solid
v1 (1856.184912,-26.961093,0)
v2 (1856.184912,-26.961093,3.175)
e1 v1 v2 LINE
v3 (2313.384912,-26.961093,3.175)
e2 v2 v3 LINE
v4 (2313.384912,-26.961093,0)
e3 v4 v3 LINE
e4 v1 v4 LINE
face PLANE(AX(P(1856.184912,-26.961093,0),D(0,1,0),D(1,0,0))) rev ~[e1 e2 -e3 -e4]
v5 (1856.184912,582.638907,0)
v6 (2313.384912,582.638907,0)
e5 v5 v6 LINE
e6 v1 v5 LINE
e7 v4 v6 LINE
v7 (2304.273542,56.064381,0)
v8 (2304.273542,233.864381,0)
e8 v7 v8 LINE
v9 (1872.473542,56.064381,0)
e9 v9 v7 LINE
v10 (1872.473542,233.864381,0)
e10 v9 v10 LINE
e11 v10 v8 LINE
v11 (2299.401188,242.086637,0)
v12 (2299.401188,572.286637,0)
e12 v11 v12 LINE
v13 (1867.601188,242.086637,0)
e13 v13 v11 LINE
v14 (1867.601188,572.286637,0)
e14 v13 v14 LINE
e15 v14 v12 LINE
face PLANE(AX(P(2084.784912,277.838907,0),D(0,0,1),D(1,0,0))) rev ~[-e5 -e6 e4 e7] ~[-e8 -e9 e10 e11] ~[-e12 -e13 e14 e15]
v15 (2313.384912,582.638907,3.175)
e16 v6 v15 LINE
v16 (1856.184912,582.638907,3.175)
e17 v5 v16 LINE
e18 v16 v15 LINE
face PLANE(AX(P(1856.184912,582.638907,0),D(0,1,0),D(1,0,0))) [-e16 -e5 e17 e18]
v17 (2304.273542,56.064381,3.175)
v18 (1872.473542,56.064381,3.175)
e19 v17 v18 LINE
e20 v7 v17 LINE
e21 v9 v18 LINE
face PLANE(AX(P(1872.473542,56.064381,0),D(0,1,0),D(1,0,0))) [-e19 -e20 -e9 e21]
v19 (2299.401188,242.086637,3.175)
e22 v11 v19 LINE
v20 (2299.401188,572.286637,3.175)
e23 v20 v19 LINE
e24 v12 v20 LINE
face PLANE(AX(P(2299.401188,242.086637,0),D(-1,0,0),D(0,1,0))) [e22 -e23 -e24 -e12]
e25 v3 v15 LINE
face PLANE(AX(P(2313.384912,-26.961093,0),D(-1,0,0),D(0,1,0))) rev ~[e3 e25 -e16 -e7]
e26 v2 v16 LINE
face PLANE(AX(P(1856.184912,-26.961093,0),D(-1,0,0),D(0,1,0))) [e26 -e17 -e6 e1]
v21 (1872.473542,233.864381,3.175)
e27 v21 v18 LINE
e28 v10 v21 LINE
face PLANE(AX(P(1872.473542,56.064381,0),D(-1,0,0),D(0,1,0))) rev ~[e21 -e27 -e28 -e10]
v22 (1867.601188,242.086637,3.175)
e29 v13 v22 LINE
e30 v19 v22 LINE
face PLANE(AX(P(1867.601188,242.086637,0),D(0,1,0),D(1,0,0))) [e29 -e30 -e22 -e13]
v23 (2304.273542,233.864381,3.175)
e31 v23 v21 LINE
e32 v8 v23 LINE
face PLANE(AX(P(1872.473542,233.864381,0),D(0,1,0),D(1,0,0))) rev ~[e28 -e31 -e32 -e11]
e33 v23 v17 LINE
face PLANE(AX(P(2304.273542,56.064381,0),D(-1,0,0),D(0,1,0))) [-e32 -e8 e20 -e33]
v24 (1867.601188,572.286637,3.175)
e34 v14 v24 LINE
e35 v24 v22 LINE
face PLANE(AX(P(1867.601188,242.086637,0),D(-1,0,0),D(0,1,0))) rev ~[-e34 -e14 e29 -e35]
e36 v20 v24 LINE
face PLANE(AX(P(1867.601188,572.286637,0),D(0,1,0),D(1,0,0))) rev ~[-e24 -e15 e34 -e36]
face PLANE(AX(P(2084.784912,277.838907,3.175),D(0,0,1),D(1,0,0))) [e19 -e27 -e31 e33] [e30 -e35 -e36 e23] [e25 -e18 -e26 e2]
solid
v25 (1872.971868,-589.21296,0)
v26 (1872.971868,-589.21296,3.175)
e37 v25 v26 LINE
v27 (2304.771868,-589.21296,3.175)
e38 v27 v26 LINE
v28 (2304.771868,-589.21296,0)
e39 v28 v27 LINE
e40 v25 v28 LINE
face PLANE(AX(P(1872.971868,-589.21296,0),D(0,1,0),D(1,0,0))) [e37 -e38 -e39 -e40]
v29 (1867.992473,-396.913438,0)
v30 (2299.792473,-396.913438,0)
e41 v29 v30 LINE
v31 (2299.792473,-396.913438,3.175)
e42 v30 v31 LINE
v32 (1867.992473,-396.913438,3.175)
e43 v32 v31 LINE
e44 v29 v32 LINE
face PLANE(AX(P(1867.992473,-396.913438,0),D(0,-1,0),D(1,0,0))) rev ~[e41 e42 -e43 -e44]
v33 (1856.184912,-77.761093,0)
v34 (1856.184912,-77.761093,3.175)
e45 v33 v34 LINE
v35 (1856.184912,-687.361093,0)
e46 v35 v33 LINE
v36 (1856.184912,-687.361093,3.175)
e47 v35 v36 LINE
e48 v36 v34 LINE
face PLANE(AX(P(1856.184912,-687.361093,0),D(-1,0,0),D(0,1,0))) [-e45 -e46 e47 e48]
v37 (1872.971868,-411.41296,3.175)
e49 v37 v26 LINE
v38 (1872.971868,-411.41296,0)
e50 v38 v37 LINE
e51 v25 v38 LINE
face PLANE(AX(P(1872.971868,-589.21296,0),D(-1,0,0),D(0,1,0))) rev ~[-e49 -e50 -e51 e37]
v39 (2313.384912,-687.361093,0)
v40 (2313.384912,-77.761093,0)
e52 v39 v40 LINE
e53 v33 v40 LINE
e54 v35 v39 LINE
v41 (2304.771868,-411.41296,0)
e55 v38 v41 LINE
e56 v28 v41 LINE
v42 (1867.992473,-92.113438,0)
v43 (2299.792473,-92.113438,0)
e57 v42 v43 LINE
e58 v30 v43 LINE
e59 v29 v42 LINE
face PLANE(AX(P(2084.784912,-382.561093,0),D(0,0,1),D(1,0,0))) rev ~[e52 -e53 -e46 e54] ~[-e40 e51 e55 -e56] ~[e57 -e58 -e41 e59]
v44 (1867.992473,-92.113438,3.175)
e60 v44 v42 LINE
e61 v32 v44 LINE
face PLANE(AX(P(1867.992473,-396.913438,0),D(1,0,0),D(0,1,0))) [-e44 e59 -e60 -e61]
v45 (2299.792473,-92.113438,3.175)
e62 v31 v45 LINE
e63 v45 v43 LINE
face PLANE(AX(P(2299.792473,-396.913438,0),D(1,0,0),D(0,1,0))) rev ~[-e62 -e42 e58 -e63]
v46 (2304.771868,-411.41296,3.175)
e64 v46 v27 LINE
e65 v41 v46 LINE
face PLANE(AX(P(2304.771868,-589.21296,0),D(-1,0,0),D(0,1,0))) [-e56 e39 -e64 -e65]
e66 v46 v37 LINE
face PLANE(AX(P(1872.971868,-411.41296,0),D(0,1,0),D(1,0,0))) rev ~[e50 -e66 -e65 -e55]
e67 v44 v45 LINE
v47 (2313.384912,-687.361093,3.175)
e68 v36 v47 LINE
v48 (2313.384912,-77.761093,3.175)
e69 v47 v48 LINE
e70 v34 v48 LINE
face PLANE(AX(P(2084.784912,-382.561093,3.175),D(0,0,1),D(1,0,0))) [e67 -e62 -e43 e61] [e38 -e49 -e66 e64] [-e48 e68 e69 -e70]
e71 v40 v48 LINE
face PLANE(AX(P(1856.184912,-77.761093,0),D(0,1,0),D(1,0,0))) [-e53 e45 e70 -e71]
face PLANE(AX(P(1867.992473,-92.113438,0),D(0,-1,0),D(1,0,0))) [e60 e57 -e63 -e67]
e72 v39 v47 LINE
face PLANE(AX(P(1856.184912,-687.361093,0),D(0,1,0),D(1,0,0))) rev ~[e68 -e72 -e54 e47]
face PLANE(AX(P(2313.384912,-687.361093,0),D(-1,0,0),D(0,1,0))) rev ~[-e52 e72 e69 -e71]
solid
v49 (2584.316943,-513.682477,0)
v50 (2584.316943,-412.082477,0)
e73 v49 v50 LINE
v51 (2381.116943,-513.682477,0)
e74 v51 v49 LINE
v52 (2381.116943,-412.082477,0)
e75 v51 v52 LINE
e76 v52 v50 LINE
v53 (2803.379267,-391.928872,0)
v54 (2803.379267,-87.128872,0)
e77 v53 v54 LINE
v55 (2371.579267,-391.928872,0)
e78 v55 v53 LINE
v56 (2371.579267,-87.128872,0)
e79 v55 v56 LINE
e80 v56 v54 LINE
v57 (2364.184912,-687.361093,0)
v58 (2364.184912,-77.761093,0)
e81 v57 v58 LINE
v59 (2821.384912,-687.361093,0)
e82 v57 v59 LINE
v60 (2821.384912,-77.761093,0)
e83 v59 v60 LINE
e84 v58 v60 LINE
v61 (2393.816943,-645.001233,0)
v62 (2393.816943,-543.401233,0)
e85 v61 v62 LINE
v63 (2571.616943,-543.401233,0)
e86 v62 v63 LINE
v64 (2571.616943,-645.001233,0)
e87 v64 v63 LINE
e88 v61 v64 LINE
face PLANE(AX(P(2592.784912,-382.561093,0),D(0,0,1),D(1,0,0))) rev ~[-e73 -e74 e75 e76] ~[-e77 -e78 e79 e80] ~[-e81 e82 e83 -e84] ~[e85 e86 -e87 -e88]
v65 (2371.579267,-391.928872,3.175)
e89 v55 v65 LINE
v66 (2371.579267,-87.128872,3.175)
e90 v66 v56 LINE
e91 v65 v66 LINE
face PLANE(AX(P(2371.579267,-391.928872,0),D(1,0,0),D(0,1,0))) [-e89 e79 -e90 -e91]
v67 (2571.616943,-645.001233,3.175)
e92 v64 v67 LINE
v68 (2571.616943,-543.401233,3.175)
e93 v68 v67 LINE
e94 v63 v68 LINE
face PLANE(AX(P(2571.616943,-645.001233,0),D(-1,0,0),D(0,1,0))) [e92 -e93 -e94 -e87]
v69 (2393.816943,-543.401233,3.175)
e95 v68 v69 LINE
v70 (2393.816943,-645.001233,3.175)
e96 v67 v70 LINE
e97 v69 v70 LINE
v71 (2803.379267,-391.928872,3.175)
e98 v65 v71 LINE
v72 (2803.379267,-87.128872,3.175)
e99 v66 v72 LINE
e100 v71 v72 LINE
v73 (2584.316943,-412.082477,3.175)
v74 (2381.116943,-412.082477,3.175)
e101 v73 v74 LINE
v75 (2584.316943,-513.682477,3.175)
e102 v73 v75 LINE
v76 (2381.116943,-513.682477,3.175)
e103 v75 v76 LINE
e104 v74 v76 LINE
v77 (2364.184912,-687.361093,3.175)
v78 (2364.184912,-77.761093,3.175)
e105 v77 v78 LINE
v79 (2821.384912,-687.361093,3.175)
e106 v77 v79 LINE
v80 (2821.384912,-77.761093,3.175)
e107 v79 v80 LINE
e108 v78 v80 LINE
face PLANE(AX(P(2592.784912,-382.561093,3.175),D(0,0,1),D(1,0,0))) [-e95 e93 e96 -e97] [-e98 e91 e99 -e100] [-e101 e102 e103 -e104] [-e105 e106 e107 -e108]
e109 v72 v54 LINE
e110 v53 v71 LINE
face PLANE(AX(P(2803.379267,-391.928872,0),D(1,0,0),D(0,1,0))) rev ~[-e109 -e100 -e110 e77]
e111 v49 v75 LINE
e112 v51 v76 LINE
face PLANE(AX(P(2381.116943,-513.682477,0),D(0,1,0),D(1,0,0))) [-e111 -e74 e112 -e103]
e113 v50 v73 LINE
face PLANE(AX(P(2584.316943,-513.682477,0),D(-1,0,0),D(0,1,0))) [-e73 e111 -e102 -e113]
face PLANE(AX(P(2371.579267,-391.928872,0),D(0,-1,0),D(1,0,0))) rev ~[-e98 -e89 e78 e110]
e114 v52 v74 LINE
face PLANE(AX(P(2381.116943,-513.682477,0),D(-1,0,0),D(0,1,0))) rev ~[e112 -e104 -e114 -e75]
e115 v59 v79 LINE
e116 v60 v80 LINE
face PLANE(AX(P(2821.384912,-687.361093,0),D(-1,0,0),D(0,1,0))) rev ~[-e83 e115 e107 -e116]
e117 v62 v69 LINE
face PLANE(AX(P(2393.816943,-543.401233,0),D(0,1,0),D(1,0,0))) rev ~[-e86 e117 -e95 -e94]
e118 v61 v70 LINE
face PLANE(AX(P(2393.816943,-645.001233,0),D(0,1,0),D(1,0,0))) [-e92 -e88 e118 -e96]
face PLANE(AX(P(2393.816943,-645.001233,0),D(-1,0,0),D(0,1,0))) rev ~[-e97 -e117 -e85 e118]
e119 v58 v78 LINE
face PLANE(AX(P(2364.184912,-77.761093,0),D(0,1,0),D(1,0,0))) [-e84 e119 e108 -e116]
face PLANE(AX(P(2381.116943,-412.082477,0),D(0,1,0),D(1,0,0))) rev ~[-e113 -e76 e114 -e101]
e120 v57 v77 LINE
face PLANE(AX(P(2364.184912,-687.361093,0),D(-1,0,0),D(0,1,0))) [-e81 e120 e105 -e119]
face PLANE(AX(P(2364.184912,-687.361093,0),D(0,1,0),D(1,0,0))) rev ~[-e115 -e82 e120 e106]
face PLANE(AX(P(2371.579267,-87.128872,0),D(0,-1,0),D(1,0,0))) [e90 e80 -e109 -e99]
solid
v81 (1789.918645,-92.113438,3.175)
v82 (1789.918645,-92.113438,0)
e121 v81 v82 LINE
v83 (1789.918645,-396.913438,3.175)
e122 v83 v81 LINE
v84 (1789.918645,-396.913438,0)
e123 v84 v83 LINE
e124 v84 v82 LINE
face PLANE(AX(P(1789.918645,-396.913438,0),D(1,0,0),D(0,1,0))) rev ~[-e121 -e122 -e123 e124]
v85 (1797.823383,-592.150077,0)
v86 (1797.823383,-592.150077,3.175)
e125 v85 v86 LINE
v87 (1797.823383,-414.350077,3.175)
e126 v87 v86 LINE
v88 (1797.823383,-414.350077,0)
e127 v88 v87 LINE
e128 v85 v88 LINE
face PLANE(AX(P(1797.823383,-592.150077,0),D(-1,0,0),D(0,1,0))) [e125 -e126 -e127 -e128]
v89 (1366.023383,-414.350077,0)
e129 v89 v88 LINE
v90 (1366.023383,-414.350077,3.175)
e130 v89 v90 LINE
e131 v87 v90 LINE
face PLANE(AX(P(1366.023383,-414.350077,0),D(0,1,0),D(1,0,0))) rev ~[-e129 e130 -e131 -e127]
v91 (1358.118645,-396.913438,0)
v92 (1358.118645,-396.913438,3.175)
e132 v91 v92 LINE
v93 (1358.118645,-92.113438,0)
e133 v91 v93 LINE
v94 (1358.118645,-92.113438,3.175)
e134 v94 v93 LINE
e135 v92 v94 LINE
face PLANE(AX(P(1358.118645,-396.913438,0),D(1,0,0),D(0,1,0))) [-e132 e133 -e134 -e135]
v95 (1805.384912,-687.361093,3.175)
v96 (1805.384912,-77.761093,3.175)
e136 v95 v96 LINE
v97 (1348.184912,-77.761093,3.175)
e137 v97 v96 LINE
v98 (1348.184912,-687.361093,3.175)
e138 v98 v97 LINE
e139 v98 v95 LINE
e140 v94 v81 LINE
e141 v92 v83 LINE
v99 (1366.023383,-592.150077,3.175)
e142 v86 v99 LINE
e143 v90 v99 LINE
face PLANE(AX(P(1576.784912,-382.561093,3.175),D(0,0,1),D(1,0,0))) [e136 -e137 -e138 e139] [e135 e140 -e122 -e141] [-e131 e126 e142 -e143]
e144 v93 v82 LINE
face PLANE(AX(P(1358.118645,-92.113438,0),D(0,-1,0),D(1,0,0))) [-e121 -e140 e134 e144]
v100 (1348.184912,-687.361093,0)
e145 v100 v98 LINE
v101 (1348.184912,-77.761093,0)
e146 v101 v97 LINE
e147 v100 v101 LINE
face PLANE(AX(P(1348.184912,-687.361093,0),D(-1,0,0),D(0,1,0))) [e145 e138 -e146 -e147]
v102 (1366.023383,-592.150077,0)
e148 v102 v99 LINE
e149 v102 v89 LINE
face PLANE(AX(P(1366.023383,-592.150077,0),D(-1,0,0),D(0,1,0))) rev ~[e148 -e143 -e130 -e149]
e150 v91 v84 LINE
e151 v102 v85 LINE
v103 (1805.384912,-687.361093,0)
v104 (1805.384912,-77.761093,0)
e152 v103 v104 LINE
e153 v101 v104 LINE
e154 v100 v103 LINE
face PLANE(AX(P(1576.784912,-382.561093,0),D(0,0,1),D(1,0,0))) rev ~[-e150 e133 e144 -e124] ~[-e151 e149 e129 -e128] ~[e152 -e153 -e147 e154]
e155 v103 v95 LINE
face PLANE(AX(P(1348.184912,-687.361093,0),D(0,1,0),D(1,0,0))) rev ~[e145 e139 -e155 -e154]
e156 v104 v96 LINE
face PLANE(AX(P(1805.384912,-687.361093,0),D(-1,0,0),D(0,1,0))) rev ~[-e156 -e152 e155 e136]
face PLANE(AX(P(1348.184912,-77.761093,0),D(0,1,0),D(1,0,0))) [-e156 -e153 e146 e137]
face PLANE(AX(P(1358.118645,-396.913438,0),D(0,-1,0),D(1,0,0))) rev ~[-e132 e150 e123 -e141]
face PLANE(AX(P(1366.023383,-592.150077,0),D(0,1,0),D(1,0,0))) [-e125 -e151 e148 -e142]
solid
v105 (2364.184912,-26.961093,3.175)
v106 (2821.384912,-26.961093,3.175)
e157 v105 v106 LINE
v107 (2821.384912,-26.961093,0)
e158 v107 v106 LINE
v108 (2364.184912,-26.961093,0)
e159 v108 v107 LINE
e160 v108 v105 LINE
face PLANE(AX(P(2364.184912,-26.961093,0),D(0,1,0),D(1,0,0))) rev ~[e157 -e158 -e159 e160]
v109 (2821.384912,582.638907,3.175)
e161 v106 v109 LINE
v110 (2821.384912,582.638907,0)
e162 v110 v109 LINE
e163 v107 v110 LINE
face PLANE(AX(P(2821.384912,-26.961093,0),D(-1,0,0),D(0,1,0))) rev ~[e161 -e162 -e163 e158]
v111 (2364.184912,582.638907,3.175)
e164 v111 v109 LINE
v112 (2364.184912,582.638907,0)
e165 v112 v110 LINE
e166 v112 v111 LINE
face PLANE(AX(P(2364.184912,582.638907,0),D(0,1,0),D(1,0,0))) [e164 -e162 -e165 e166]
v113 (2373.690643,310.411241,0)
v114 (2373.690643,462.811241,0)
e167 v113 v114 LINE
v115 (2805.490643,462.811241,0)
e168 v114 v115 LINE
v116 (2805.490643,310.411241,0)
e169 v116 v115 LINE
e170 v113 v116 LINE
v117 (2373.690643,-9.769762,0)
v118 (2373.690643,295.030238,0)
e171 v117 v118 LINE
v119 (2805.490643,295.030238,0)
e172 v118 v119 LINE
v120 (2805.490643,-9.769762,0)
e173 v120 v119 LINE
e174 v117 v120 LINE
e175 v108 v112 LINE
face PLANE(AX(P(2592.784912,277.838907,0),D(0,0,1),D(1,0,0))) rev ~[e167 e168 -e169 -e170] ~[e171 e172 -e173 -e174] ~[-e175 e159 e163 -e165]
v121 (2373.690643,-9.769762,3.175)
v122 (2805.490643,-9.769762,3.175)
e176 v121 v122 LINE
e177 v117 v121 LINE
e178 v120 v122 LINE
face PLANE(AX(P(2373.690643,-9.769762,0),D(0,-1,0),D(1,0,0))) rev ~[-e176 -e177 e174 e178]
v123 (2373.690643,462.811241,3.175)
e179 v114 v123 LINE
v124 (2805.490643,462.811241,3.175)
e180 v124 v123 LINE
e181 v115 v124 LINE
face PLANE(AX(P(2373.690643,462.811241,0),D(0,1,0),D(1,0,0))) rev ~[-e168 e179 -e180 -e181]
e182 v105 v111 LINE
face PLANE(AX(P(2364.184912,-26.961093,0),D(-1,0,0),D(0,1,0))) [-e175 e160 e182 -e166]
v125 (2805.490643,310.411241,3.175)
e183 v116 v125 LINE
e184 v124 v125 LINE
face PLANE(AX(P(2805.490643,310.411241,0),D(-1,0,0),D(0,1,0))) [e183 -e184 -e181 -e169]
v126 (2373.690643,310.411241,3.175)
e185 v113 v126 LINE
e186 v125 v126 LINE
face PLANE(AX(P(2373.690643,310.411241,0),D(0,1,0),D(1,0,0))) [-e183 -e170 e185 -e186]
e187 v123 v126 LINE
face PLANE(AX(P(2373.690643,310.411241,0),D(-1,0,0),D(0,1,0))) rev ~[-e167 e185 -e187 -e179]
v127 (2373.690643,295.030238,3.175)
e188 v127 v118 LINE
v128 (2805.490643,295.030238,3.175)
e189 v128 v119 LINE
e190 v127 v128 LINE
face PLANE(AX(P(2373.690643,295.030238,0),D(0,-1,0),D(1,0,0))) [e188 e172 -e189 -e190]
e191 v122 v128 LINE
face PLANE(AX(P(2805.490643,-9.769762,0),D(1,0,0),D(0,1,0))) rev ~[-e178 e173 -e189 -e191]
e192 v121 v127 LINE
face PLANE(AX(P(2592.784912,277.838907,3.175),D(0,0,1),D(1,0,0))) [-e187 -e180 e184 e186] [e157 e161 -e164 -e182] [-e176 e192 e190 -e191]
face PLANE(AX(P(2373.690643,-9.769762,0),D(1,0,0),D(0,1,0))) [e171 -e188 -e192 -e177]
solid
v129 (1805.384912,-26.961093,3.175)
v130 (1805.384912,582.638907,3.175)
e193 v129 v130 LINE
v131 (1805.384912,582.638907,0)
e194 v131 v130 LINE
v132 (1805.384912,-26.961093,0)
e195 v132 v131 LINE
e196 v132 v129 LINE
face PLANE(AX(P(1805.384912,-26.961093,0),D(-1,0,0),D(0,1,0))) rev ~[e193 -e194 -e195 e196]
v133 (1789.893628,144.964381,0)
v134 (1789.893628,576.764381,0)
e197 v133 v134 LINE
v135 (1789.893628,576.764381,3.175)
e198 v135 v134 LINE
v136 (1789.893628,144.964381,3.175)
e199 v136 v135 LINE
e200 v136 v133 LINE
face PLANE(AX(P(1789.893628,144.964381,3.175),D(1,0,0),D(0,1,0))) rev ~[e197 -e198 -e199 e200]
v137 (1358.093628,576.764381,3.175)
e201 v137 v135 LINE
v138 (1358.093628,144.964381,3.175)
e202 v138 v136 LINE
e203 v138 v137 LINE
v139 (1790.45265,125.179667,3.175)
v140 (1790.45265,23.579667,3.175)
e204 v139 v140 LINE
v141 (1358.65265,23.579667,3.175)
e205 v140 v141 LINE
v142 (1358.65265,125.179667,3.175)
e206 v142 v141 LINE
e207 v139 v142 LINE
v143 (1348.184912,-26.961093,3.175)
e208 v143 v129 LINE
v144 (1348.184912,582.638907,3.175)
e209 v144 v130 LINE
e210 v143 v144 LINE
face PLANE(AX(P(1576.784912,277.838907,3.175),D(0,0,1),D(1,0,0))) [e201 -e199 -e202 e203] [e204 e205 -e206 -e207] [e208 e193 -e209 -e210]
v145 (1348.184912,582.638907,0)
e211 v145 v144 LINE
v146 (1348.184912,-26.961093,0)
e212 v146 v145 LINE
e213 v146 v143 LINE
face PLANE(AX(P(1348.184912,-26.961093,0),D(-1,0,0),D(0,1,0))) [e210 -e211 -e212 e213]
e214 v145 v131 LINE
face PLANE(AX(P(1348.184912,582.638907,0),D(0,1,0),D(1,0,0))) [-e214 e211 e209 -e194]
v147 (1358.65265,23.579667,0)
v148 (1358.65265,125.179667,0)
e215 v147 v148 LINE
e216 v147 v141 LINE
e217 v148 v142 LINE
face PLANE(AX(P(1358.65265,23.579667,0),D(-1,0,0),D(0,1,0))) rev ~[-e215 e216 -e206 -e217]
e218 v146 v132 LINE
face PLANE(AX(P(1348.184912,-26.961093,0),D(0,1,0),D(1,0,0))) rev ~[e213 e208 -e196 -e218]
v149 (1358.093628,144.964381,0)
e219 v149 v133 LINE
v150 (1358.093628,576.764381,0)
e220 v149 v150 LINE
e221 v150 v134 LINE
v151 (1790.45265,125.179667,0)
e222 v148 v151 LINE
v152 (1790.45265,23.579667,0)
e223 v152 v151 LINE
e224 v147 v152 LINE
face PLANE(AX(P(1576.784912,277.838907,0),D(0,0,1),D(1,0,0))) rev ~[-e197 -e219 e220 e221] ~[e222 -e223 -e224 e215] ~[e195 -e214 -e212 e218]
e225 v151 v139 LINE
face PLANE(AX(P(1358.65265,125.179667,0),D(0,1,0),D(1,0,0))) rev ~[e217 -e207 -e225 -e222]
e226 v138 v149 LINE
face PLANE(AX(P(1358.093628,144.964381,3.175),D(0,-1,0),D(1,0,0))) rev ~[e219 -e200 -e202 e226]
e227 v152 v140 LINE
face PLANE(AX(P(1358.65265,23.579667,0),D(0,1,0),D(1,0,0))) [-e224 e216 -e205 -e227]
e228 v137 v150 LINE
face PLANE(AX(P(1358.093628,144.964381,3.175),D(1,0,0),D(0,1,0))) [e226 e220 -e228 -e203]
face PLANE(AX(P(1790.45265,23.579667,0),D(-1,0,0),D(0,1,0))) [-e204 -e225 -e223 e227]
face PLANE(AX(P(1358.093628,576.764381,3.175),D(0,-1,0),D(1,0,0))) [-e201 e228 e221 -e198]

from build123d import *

# Parameters (mm, degrees)
SKETCH11_W                  = 457.2
SKETCH11_H                  = 609.6
BOSS_EXTRUDE1_DEPTH         = 3.175
BOSS_EXTRUDE1_2_DEPTH       = 3.175
BOSS_EXTRUDE1_3_DEPTH       = 3.175
BOSS_EXTRUDE1_4_DEPTH       = 3.175
BOSS_EXTRUDE1_5_DEPTH       = 3.175
BOSS_EXTRUDE1_6_DEPTH       = 3.175
FOLDER_INTER_WALLS_17X12_W  = 431.8
FOLDER_INTER_WALLS_17X12_H  = 304.8
CUT_EXTRUDE2_DEPTH          = 4.175
CUT_EXTRUDE2_DEPTH_BACK     = 1
BASE_PLATE_17X17_W          = 431.8
BASE_PLATE_17X17_H          = 431.8
CUT_EXTRUDE3_DEPTH          = 1
CUT_EXTRUDE3_DEPTH_BACK     = 4.175
TOP_BASE_LAYER_17X13_W      = 431.8
TOP_BASE_LAYER_17X13_H      = 330.2
CUT_EXTRUDE4_DEPTH          = 4.175
CUT_EXTRUDE4_DEPTH_BACK     = 1
BACK_WALL_17X4_W            = 431.8
BACK_WALL_17X4_H            = 101.6
CUT_EXTRUDE5_DEPTH          = 4.175
CUT_EXTRUDE5_DEPTH_BACK     = 1
ANGLED_FOLDER_WALL_2_17X7_W = 431.8
ANGLED_FOLDER_WALL_2_17X7_H = 177.8
CUT_EXTRUDE6_DEPTH          = 4.175
CUT_EXTRUDE6_DEPTH_BACK     = 1
FRONT_WALL_17X6_W           = 431.8
FRONT_WALL_17X6_H           = 152.4
CUT_EXTRUDE7_DEPTH          = 4.175
CUT_EXTRUDE7_DEPTH_BACK     = 1
LEFT_WALL_16X8_W            = 431.8
LEFT_WALL_16X8_H            = 177.8
CUT_EXTRUDE8_DEPTH          = 4.175
CUT_EXTRUDE8_DEPTH_BACK     = 1
RIGHT_WALL_12X8_W           = 431.8
RIGHT_WALL_12X8_H           = 177.8
CUT_EXTRUDE9_DEPTH          = 4.175
CUT_EXTRUDE9_DEPTH_BACK     = 1
ANGLED_FOLDER_WALL_3_8X4_W  = 203.2
ANGLED_FOLDER_WALL_3_8X4_H  = 101.6
CUT_EXTRUDE10_DEPTH         = 4.175
CUT_EXTRUDE10_DEPTH_BACK    = 1
ANGLED_FOLDER_WALL_1_7X4_W  = 177.8
ANGLED_FOLDER_WALL_1_7X4_H  = 101.6
CUT_EXTRUDE11_DEPTH         = 4.175
CUT_EXTRUDE11_DEPTH_BACK    = 1


with BuildPart() as part:
    # Sketch11 → Boss-Extrude1 (new body)
    with BuildSketch(Plane.XY):
        with Locations((2084.784911615, 277.838906703)):
            Rectangle(SKETCH11_W, SKETCH11_H)
    extrude(amount=BOSS_EXTRUDE1_DEPTH)

    # Top Base Layer, 17x13 → Cut-Extrude4 (cut, two sides)
    with BuildSketch(Plane.XY) as cut_extrude4_sk:
        with Locations((2083.501187973, 407.186637429)):
            Rectangle(TOP_BASE_LAYER_17X13_W, TOP_BASE_LAYER_17X13_H)
    extrude(amount=CUT_EXTRUDE4_DEPTH, mode=Mode.SUBTRACT)
    extrude(cut_extrude4_sk.sketch, amount=-CUT_EXTRUDE4_DEPTH_BACK, mode=Mode.SUBTRACT)

    # Angled Folder Wall 2, 17x7 → Cut-Extrude6 (cut, two sides)
    with BuildSketch(Plane.XY) as cut_extrude6_sk:
        with Locations((2088.373542002, 144.96438064)):
            Rectangle(ANGLED_FOLDER_WALL_2_17X7_W, ANGLED_FOLDER_WALL_2_17X7_H)
    extrude(amount=CUT_EXTRUDE6_DEPTH, mode=Mode.SUBTRACT)
    extrude(cut_extrude6_sk.sketch, amount=-CUT_EXTRUDE6_DEPTH_BACK, mode=Mode.SUBTRACT)


with BuildPart() as body_2:
    # Sketch11 → Boss-Extrude1 2 (new body)
    with BuildSketch(Plane.XY):
        with Locations((1576.784911615, 277.838906703)):
            Rectangle(SKETCH11_W, SKETCH11_H)
    extrude(amount=BOSS_EXTRUDE1_2_DEPTH)

    # Base Plate, 17x17 → Cut-Extrude3 (cut, two sides)
    with BuildSketch(Plane.XY.offset(3.175)) as cut_extrude3_sk:
        with Locations((1573.993628053, 360.86438064)):
            Rectangle(BASE_PLATE_17X17_W, BASE_PLATE_17X17_H)
    extrude(amount=CUT_EXTRUDE3_DEPTH, mode=Mode.SUBTRACT)
    extrude(cut_extrude3_sk.sketch, amount=-CUT_EXTRUDE3_DEPTH_BACK, mode=Mode.SUBTRACT)

    # Back Wall, 17x4 → Cut-Extrude5 (cut, two sides)
    with BuildSketch(Plane.XY) as cut_extrude5_sk:
        with Locations((1574.552650393, 74.379666893)):
            Rectangle(BACK_WALL_17X4_W, BACK_WALL_17X4_H)
    extrude(amount=CUT_EXTRUDE5_DEPTH, mode=Mode.SUBTRACT)
    extrude(cut_extrude5_sk.sketch, amount=-CUT_EXTRUDE5_DEPTH_BACK, mode=Mode.SUBTRACT)


with BuildPart() as body_3:
    # Sketch11 → Boss-Extrude1 3 (new body)
    with BuildSketch(Plane.XY):
        with Locations((2592.784911615, 277.838906703)):
            Rectangle(SKETCH11_W, SKETCH11_H)
    extrude(amount=BOSS_EXTRUDE1_3_DEPTH)


with BuildPart() as body_4:
    # Sketch11 → Boss-Extrude1 4 (new body)
    with BuildSketch(Plane.XY):
        with Locations((2084.784911615, -382.561093297)):
            Rectangle(SKETCH11_W, SKETCH11_H)
    extrude(amount=BOSS_EXTRUDE1_4_DEPTH)


with BuildPart() as body_5:
    # Sketch11 → Boss-Extrude1 5 (new body)
    with BuildSketch(Plane.XY):
        with Locations((2592.784911615, -382.561093297)):
            Rectangle(SKETCH11_W, SKETCH11_H)
    extrude(amount=BOSS_EXTRUDE1_5_DEPTH)


with BuildPart() as body_6:
    # Sketch11 → Boss-Extrude1 6 (new body)
    with BuildSketch(Plane.XY):
        with Locations((1576.784911615, -382.561093297)):
            Rectangle(SKETCH11_W, SKETCH11_H)
    extrude(amount=BOSS_EXTRUDE1_6_DEPTH)


with BuildPart() as cut_extrude2_tool:
    # Folder Inter Walls, 17x12 → Cut-Extrude2 (new body, two sides)
    with BuildSketch(Plane.XY) as cut_extrude2_sk:
        with Locations((2587.479266915, -239.528871664)):
            Rectangle(FOLDER_INTER_WALLS_17X12_W, FOLDER_INTER_WALLS_17X12_H)
        with Locations((2589.59064321, 142.630237721)):
            Rectangle(FOLDER_INTER_WALLS_17X12_W, FOLDER_INTER_WALLS_17X12_H)
        with Locations((1574.01864534, -244.513437782)):
            Rectangle(FOLDER_INTER_WALLS_17X12_W, FOLDER_INTER_WALLS_17X12_H)
        with Locations((2083.892472887, -244.513437782)):
            Rectangle(FOLDER_INTER_WALLS_17X12_W, FOLDER_INTER_WALLS_17X12_H)
    extrude(amount=CUT_EXTRUDE2_DEPTH)
    extrude(cut_extrude2_sk.sketch, amount=-CUT_EXTRUDE2_DEPTH_BACK)


with BuildPart() as body_3_1:
    add(body_3.part)

    # Cut-Extrude2: cut by cut_extrude2_tool
    add(cut_extrude2_tool.part, mode=Mode.SUBTRACT)

    # Front Wall, 17x6 → Cut-Extrude7 (cut, two sides)
    with BuildSketch(Plane.XY) as cut_extrude7_sk:
        with Locations((2589.59064321, 386.611241092)):
            Rectangle(FRONT_WALL_17X6_W, FRONT_WALL_17X6_H)
    extrude(amount=CUT_EXTRUDE7_DEPTH, mode=Mode.SUBTRACT)
    extrude(cut_extrude7_sk.sketch, amount=-CUT_EXTRUDE7_DEPTH_BACK, mode=Mode.SUBTRACT)


with BuildPart() as body_4_1:
    add(body_4.part)

    # Cut-Extrude2: cut by cut_extrude2_tool
    add(cut_extrude2_tool.part, mode=Mode.SUBTRACT)

    # Right wall, 12x8 → Cut-Extrude9 (cut, two sides)
    with BuildSketch(Plane.XY) as cut_extrude9_sk:
        with Locations((2088.87186834, -500.312959525)):
            Rectangle(RIGHT_WALL_12X8_W, RIGHT_WALL_12X8_H)
    extrude(amount=CUT_EXTRUDE9_DEPTH, mode=Mode.SUBTRACT)
    extrude(cut_extrude9_sk.sketch, amount=-CUT_EXTRUDE9_DEPTH_BACK, mode=Mode.SUBTRACT)


with BuildPart() as body_5_1:
    add(body_5.part)

    # Cut-Extrude2: cut by cut_extrude2_tool
    add(cut_extrude2_tool.part, mode=Mode.SUBTRACT)

    # Angled Folder Wall 3, 8x4 → Cut-Extrude10 (cut, two sides)
    with BuildSketch(Plane.XY) as cut_extrude10_sk:
        with Locations((2482.71694262, -462.882476624)):
            Rectangle(ANGLED_FOLDER_WALL_3_8X4_W, ANGLED_FOLDER_WALL_3_8X4_H)
    extrude(amount=CUT_EXTRUDE10_DEPTH, mode=Mode.SUBTRACT)
    extrude(cut_extrude10_sk.sketch, amount=-CUT_EXTRUDE10_DEPTH_BACK, mode=Mode.SUBTRACT)

    # Angled folder wall 1, 7x4 → Cut-Extrude11 (cut, two sides)
    with BuildSketch(Plane.XY) as cut_extrude11_sk:
        with Locations((2482.71694262, -594.201232774)):
            Rectangle(ANGLED_FOLDER_WALL_1_7X4_W, ANGLED_FOLDER_WALL_1_7X4_H)
    extrude(amount=CUT_EXTRUDE11_DEPTH, mode=Mode.SUBTRACT)
    extrude(cut_extrude11_sk.sketch, amount=-CUT_EXTRUDE11_DEPTH_BACK, mode=Mode.SUBTRACT)


with BuildPart() as body_6_1:
    add(body_6.part)

    # Cut-Extrude2: cut by cut_extrude2_tool
    add(cut_extrude2_tool.part, mode=Mode.SUBTRACT)

    # Left Wall, 16x8 → Cut-Extrude8 (cut, two sides)
    with BuildSketch(Plane.XY) as cut_extrude8_sk:
        with Locations((1581.923382741, -503.25007721)):
            Rectangle(LEFT_WALL_16X8_W, LEFT_WALL_16X8_H)
    extrude(amount=CUT_EXTRUDE8_DEPTH, mode=Mode.SUBTRACT)
    extrude(cut_extrude8_sk.sketch, amount=-CUT_EXTRUDE8_DEPTH_BACK, mode=Mode.SUBTRACT)


solid = Compound([part.part, body_2.part, body_3_1.part, body_4_1.part, body_5_1.part, body_6_1.part])
